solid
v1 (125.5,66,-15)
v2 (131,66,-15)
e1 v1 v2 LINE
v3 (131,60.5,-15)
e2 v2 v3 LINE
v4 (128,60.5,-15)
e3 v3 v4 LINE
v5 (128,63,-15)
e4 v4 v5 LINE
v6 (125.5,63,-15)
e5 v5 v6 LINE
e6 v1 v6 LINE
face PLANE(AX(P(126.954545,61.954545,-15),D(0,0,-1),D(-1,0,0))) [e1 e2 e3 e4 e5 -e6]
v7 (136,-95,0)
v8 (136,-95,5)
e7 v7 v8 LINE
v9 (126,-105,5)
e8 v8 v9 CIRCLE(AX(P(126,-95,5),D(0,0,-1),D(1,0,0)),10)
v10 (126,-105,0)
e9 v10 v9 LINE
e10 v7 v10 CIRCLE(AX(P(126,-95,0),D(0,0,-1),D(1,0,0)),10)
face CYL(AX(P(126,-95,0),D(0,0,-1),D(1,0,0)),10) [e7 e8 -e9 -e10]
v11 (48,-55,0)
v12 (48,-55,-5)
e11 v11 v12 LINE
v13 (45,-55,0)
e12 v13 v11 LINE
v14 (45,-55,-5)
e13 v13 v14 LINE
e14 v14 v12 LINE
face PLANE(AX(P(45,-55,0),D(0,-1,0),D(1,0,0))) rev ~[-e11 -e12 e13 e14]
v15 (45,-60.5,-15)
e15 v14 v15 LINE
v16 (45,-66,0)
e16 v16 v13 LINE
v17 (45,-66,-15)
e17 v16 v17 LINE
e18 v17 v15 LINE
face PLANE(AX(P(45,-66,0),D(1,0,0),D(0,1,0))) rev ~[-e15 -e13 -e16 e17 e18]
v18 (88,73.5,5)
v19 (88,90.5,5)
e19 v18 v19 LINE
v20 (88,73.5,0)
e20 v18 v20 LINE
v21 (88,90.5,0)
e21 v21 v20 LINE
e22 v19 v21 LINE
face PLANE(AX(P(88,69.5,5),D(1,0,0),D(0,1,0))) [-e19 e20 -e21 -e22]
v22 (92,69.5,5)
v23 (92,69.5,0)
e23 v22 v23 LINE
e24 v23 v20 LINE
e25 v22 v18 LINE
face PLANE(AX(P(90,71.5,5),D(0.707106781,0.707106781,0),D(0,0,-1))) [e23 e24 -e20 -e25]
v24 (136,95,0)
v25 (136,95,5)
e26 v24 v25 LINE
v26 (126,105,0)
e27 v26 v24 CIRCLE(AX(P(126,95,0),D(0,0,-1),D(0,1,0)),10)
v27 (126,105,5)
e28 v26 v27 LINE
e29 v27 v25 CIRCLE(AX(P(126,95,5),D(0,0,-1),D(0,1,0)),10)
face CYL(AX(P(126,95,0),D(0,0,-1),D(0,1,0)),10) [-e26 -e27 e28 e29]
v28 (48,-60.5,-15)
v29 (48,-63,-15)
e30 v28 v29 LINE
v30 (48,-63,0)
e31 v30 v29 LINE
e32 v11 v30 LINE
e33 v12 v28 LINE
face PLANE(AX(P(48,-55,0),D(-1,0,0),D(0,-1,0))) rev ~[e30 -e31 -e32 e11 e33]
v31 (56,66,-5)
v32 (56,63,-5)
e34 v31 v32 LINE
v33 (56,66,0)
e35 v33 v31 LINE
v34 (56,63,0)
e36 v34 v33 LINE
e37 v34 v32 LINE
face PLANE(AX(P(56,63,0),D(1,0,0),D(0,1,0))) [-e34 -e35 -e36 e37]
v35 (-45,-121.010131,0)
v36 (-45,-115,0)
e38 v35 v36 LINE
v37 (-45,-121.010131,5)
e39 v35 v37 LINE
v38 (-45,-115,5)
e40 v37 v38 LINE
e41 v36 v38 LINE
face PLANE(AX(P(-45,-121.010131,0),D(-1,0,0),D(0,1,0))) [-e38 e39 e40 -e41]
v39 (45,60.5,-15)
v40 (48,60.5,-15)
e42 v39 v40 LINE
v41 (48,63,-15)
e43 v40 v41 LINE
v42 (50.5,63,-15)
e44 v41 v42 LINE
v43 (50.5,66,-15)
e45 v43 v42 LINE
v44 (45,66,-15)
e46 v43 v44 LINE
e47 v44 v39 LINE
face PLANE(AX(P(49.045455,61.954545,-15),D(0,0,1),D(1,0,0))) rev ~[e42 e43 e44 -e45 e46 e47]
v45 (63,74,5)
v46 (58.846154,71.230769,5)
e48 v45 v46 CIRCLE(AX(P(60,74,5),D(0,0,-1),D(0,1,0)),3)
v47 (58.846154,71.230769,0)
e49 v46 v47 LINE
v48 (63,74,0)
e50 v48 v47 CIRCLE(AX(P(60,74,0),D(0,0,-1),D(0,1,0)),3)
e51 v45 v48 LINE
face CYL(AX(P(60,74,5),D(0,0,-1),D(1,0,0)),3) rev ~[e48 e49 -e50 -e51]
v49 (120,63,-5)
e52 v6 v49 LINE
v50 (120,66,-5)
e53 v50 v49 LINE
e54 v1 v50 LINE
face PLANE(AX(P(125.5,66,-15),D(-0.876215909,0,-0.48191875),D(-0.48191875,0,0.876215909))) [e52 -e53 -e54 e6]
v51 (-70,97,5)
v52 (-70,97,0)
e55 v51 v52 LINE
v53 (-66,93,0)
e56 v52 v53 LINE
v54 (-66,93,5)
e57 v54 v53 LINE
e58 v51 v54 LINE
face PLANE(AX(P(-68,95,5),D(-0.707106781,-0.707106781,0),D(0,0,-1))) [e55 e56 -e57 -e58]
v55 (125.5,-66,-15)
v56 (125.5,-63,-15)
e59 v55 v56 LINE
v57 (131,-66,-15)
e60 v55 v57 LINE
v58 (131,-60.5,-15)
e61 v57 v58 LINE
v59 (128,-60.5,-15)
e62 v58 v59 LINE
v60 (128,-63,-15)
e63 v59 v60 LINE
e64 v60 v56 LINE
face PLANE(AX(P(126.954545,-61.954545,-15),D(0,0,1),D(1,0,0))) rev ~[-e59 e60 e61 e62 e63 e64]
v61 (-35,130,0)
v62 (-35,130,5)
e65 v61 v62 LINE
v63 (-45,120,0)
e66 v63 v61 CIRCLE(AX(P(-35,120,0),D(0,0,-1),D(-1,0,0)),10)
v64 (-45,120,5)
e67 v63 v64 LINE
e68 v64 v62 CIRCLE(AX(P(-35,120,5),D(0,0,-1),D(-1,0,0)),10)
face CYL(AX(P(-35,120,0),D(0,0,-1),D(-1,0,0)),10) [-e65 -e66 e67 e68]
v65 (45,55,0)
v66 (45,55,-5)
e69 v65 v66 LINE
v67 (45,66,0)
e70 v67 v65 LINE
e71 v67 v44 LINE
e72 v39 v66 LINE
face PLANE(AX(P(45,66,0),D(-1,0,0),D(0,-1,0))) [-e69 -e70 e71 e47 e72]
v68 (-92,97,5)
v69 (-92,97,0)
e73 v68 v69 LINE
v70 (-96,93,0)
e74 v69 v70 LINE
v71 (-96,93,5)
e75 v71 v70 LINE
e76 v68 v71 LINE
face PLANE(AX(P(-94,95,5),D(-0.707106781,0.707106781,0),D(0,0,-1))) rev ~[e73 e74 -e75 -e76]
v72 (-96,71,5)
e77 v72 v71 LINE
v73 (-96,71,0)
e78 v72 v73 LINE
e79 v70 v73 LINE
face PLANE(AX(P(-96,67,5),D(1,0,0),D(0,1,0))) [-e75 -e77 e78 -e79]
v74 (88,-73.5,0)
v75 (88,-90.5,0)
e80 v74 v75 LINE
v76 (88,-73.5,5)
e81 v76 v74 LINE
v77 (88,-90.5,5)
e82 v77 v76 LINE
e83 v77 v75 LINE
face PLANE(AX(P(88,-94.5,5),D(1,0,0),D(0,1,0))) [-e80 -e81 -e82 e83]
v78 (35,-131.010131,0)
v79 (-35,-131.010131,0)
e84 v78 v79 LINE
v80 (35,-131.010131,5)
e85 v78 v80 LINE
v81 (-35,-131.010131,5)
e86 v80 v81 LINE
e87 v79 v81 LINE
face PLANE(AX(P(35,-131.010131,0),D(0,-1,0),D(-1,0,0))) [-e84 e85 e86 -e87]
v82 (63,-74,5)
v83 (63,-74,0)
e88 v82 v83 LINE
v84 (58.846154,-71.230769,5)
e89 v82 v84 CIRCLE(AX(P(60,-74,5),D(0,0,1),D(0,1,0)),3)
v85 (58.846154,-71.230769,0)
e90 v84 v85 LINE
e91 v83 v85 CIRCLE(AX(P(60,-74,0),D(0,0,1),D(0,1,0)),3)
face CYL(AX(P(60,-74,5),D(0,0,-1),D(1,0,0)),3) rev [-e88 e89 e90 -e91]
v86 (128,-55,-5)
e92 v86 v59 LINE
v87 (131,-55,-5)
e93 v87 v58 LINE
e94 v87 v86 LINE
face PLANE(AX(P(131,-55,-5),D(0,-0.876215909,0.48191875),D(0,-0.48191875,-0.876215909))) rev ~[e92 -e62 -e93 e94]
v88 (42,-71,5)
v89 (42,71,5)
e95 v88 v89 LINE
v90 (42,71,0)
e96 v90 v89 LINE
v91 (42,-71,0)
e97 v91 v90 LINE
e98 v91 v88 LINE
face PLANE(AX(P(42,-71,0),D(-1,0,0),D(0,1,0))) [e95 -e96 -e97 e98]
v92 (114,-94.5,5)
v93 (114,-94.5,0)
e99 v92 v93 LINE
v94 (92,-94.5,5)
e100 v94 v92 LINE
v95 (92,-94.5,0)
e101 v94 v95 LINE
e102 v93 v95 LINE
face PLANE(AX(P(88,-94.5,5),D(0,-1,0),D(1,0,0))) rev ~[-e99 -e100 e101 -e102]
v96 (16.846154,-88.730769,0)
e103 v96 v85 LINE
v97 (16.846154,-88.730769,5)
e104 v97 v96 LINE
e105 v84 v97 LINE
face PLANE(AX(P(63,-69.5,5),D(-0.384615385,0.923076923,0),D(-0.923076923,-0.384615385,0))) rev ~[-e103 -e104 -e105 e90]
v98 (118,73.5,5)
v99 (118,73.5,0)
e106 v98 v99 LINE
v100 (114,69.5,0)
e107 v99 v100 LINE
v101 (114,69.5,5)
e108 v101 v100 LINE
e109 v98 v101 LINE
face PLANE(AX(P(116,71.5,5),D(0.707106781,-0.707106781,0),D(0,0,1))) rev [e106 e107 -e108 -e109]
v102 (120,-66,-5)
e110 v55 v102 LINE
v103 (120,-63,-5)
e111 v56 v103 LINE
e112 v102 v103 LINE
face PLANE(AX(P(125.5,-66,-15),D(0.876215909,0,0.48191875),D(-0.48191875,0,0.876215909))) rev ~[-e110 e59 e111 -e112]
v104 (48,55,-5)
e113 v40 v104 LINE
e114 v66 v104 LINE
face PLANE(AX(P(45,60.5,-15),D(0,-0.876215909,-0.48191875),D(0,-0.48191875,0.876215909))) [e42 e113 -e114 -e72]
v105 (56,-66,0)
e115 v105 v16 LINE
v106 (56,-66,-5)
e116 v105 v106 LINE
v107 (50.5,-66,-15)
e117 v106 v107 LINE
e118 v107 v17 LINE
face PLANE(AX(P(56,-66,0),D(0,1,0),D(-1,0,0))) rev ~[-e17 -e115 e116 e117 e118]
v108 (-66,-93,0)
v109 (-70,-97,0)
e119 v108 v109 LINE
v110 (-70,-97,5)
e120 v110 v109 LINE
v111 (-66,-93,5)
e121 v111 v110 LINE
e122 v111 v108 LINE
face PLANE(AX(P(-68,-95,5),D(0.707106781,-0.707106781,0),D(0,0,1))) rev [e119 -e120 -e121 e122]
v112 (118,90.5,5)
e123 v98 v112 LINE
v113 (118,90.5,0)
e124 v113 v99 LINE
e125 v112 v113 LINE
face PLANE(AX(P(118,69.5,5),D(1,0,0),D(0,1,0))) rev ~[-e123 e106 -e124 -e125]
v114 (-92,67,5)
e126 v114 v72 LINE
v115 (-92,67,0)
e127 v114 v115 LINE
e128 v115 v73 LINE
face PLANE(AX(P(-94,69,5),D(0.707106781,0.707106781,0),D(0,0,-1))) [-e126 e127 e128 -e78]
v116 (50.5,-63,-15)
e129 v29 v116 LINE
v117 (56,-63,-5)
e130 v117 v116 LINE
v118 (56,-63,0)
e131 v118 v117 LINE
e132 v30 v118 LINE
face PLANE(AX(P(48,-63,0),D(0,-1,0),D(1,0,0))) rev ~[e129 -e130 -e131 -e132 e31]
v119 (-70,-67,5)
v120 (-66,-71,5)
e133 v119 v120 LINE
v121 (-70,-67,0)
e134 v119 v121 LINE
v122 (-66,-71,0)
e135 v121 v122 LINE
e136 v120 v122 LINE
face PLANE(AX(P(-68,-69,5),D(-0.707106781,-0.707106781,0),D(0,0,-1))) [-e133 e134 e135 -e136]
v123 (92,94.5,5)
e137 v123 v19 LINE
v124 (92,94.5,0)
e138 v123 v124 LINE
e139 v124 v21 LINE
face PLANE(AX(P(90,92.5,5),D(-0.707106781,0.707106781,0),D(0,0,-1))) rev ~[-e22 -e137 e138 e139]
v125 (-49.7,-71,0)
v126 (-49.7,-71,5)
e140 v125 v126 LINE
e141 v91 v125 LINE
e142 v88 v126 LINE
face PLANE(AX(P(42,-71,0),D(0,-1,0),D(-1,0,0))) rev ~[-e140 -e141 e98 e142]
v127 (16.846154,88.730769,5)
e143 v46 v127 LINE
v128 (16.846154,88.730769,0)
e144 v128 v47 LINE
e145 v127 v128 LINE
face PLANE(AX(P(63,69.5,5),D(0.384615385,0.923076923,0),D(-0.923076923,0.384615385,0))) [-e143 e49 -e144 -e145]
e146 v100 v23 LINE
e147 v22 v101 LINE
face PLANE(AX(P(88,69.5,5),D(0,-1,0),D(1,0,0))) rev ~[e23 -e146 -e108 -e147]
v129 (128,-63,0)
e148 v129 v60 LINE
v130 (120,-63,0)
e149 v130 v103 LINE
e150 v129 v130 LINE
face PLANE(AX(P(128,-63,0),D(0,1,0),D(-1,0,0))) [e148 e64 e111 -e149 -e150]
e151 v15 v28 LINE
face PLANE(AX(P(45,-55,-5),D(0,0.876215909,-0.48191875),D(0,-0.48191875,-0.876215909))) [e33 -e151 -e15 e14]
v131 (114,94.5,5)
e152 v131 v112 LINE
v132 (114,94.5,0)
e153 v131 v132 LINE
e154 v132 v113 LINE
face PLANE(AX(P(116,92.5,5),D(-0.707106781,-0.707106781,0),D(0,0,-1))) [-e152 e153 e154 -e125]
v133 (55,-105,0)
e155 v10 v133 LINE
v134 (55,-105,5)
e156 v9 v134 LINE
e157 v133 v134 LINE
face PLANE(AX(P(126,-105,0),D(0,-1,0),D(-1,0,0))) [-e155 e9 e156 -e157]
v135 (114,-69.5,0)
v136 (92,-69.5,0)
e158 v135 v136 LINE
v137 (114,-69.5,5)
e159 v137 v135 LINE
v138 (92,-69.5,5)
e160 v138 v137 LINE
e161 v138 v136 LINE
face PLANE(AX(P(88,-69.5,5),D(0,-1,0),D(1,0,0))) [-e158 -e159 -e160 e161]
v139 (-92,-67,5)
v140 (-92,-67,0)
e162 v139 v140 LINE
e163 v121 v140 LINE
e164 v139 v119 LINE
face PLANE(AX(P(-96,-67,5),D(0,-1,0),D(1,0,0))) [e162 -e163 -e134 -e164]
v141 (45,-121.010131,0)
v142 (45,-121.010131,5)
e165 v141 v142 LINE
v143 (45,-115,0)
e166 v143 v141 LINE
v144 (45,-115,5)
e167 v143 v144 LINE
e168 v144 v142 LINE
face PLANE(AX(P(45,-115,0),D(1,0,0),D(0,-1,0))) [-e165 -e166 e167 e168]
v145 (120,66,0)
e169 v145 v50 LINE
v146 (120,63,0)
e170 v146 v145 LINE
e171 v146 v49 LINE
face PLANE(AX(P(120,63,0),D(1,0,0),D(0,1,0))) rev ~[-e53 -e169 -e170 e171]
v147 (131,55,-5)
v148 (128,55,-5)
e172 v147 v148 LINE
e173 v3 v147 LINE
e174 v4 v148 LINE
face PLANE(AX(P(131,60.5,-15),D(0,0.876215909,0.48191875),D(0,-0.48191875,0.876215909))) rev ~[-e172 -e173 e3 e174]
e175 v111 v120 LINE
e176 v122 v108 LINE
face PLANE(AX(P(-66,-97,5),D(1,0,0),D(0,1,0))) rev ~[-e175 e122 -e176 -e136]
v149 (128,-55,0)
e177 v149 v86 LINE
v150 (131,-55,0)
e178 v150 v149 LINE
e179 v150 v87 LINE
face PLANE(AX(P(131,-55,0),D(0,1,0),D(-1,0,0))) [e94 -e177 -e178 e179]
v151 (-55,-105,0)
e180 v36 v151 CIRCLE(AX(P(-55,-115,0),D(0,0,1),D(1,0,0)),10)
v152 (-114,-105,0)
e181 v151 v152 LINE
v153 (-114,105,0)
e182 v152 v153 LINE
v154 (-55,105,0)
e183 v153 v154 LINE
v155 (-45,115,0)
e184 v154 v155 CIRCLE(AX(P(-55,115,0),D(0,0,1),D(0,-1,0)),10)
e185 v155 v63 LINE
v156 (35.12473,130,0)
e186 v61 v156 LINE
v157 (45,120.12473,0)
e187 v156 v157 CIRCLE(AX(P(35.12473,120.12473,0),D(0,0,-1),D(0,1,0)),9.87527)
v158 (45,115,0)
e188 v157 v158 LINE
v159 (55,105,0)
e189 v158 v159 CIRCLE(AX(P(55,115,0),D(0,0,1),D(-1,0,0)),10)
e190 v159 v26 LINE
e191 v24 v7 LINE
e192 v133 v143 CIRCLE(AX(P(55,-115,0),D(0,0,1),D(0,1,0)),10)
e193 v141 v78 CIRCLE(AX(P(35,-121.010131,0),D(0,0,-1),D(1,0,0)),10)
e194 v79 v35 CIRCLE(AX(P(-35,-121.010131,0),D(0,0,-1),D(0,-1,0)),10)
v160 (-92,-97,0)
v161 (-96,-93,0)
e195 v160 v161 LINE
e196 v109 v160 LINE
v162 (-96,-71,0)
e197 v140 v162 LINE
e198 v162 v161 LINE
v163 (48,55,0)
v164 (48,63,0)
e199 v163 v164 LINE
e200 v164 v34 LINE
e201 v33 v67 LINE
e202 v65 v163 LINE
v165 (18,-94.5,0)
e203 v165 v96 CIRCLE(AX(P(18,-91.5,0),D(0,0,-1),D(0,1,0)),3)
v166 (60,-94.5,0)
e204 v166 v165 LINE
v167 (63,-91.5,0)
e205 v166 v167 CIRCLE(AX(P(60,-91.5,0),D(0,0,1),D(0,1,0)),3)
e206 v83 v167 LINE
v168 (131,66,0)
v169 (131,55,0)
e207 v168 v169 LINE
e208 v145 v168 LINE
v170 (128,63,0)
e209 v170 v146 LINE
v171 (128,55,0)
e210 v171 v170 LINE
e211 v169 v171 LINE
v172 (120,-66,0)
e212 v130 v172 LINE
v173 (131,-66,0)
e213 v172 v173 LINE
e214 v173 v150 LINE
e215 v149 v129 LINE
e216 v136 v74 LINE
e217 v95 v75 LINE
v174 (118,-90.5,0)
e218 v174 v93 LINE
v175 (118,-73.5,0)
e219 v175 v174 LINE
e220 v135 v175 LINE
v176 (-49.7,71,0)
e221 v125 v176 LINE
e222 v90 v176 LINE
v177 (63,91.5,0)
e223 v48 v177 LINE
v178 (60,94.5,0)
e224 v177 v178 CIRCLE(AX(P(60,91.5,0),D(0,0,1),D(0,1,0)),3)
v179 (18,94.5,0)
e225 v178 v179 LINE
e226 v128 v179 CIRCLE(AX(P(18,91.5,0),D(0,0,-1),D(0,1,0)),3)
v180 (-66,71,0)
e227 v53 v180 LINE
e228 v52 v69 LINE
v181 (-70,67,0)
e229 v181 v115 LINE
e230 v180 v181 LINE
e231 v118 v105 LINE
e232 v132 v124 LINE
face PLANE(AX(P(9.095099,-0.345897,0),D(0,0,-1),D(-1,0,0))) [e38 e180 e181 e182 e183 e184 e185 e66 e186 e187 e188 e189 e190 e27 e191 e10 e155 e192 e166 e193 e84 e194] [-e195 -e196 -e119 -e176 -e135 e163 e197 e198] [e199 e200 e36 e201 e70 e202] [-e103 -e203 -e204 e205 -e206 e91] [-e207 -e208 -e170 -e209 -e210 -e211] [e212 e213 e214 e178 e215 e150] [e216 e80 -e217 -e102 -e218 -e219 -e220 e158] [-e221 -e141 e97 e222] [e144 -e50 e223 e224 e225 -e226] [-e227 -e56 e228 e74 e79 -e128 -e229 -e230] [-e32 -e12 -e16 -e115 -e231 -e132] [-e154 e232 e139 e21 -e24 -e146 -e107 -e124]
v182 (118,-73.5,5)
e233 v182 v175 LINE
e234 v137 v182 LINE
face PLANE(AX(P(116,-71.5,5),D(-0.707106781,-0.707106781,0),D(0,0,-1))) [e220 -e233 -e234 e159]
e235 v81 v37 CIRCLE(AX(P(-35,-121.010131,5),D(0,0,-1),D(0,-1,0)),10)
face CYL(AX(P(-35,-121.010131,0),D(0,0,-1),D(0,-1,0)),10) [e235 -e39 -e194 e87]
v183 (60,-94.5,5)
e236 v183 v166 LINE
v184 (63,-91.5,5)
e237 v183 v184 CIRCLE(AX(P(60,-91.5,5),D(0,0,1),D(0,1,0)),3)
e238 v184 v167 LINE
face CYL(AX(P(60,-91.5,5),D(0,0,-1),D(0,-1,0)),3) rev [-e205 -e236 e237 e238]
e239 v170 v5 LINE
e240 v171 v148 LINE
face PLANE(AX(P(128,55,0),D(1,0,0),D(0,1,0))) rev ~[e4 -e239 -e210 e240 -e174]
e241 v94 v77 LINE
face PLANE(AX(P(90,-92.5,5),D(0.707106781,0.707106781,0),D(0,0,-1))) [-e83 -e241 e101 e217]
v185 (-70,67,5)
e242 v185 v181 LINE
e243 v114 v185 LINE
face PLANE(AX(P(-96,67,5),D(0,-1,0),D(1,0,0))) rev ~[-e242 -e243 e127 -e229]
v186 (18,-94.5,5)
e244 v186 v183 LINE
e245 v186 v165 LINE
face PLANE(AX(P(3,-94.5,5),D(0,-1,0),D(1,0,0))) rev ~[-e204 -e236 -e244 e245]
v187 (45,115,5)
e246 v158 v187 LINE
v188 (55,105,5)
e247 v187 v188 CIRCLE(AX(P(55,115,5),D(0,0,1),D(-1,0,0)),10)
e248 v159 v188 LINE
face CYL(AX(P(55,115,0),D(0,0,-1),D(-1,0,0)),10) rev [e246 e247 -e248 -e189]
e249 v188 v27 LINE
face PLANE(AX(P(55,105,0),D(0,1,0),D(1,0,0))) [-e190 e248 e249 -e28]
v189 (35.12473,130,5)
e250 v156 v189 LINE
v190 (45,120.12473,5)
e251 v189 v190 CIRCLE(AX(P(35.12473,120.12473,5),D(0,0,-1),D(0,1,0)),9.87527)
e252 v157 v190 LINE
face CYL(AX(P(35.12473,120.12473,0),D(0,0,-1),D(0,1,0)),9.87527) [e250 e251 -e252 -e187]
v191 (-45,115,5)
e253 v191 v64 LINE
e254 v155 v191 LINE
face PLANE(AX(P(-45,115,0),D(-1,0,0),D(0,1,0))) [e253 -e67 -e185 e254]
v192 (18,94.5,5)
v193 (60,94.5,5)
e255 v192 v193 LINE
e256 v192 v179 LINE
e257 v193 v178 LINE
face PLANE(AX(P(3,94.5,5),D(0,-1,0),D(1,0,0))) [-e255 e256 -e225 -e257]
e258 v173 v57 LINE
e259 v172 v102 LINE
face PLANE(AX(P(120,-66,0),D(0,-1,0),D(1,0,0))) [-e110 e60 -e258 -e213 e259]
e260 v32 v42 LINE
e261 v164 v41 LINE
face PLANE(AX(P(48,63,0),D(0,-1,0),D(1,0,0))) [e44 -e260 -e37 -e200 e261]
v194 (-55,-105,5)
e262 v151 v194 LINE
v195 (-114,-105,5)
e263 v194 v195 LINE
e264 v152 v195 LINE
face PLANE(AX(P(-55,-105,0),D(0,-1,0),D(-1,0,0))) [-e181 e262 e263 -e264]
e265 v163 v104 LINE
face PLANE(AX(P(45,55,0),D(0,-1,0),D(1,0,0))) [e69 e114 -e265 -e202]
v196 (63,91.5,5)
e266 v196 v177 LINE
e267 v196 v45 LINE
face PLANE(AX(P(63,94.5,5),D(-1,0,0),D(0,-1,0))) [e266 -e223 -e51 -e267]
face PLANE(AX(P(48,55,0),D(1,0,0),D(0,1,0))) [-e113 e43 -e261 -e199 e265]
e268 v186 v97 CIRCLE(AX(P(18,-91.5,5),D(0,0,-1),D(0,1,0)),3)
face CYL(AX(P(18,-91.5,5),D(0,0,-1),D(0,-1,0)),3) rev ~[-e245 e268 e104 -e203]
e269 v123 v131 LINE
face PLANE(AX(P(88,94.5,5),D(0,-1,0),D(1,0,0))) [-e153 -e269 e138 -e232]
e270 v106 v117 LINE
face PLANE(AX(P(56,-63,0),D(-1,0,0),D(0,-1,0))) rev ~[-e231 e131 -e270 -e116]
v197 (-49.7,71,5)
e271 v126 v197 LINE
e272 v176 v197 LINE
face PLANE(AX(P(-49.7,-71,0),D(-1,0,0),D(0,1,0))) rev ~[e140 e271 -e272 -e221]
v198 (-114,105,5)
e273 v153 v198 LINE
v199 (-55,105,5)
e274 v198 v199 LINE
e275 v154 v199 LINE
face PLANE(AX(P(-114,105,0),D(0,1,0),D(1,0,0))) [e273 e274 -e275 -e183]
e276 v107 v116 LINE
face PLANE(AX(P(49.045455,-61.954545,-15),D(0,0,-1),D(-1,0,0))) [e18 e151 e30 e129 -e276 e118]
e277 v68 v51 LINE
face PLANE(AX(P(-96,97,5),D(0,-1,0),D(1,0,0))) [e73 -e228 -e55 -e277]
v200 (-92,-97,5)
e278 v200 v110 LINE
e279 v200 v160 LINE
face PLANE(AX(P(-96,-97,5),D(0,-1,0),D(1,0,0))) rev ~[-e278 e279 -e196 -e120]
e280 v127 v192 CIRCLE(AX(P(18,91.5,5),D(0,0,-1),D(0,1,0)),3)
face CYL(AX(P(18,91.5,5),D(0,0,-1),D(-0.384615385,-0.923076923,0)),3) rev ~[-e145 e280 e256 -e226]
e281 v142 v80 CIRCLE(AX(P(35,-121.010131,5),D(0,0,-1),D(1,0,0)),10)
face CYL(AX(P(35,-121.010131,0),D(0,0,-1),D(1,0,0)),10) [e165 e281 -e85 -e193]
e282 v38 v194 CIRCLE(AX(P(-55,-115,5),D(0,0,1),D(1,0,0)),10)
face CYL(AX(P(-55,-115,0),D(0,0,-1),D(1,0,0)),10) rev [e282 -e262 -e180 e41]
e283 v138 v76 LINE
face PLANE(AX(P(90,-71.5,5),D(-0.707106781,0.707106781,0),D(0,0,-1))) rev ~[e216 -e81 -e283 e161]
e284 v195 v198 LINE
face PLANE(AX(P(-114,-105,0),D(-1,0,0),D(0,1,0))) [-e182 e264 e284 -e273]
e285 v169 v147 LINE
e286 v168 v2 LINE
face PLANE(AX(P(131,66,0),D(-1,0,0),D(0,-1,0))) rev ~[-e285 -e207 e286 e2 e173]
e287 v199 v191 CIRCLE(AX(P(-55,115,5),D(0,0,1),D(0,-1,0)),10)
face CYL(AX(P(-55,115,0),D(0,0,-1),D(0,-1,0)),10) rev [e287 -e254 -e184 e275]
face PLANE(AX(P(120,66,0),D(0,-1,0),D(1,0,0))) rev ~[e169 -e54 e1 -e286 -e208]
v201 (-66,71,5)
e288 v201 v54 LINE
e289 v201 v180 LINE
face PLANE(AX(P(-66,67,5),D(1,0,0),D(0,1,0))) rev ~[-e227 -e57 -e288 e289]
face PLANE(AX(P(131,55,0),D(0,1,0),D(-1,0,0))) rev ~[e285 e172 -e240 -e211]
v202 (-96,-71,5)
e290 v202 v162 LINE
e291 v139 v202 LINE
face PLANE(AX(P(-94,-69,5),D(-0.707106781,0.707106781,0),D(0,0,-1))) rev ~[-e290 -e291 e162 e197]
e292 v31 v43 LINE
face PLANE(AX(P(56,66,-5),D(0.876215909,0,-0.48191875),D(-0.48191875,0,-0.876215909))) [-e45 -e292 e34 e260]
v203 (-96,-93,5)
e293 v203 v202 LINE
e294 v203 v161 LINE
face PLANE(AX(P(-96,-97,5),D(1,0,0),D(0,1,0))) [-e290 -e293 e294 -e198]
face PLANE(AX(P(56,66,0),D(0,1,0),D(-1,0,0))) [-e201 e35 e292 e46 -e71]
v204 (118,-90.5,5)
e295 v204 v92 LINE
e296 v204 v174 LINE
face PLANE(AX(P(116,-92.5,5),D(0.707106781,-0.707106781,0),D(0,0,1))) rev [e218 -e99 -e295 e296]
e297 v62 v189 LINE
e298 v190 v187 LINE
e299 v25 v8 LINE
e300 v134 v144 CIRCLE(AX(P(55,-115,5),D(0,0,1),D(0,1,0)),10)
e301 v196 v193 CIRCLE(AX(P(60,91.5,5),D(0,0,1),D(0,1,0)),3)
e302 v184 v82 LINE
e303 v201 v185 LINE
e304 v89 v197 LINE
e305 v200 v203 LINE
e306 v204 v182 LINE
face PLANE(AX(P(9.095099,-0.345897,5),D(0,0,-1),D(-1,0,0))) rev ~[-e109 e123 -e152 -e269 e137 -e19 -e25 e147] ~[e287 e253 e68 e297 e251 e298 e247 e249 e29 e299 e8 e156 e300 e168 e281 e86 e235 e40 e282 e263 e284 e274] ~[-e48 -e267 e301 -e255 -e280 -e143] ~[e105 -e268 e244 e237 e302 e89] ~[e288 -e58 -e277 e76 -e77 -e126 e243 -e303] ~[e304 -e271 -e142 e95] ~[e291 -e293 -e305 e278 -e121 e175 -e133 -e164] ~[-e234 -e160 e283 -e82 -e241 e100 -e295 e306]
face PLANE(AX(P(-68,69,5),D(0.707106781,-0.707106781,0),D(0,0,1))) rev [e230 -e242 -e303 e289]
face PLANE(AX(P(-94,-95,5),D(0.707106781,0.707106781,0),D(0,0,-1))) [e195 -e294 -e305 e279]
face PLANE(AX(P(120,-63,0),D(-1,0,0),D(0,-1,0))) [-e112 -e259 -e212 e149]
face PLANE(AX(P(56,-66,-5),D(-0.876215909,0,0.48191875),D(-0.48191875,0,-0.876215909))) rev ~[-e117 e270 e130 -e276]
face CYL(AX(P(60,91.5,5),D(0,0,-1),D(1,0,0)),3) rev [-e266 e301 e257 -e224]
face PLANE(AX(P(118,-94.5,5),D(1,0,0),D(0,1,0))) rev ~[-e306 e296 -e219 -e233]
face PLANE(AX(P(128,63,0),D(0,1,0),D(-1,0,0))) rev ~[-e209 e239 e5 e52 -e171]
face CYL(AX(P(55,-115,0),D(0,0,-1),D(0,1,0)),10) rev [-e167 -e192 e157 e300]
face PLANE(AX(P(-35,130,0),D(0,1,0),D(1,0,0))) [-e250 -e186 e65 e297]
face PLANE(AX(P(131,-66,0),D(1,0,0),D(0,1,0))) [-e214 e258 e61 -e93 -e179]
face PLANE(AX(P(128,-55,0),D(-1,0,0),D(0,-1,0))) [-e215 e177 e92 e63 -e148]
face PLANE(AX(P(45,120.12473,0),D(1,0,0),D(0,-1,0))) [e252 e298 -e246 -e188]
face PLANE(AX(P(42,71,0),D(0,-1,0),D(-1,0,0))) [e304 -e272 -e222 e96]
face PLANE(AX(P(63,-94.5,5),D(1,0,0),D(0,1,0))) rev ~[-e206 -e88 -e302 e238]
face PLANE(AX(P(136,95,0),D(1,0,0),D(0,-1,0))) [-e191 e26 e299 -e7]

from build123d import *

# Parameters (mm, degrees)
EXTRUDE_1_DEPTH     = 5
SKETCH_2_W          = 30
SKETCH_2_H          = 30
SKETCH_2_H_2        = 25
CUT_EXTRUDE_1_DEPTH = 189.903823128
CHAMFER_1_SIZE      = 4
EXTRUDE_2_DEPTH     = 15
CUT_EXTRUDE_2_DEPTH = 3
CUT_EXTRUDE_3_DEPTH = 3
CUT_EXTRUDE_4_DEPTH = 3
CUT_EXTRUDE_5_DEPTH = 3
FILLET_1_R          = 3
SKETCH_8_W          = 91.7
SKETCH_8_H          = 142
CUT_EXTRUDE_6_DEPTH = 5


with BuildPart() as part:
    # 草图1 → 凸台-拉伸1 (new body)
    with BuildSketch(Plane.XY):
        with BuildLine():
            Line((-45, 115), (-45, 120))
            ThreePointArc((-45, 120), (-42.071067812, 127.071067812), (-35, 130))
            Line((-35, 130), (35.124730195, 130))
            ThreePointArc((35.124730195, 130), (42.10760044, 127.10760044), (45, 120.124730195))
            Line((45, 120.124730195), (45, 115))
            ThreePointArc((45, 115), (47.928932188, 107.928932188), (55, 105))
            Line((55, 105), (126, 105))
            ThreePointArc((126, 105), (133.071067812, 102.071067812), (136, 95))
            Line((136, 95), (136, -95))
            ThreePointArc((136, -95), (133.071067812, -102.071067812), (126, -105))
            Line((126, -105), (115, -105))
            Line((115, -105), (55, -105))
            ThreePointArc((55, -105), (47.928932188, -107.928932188), (45, -115))
            Line((45, -115), (45, -121.010130877))
            ThreePointArc((45, -121.010130877), (42.071067812, -128.081198689), (35, -131.010130877))
            Line((35, -131.010130877), (-35, -131.010130877))
            ThreePointArc((-35, -131.010130877), (-42.071067812, -128.081198689), (-45, -121.010130877))
            Line((-45, -121.010130877), (-45, -115))
            ThreePointArc((-45, -115), (-47.928932188, -107.928932188), (-55, -105))
            Line((-55, -105), (-114, -105))
            Line((-114, -105), (-114, -95))
            Line((-114, -95), (-114, 95))
            Line((-114, 95), (-114, 105))
            Line((-114, 105), (-55, 105))
            ThreePointArc((-55, 105), (-47.928932188, 107.928932188), (-45, 115))
        make_face()
    extrude(amount=EXTRUDE_1_DEPTH)

    # 草图2 → 切除-拉伸1 (cut, through all)
    with BuildSketch(Plane.XY.offset(5)):
        with Locations((-81, 82)):
            Rectangle(SKETCH_2_W, SKETCH_2_H)
        with Locations((-81, -82)):
            Rectangle(SKETCH_2_W, SKETCH_2_H)
        with Locations((103, 82)):
            Rectangle(SKETCH_2_W, SKETCH_2_H_2)
        with Locations((103, -82)):
            Rectangle(SKETCH_2_W, SKETCH_2_H_2)
        Polygon((3, 94.5), (63, 94.5), (63, 69.5), align=None)
        Polygon((3, -94.5), (63, -94.5), (63, -69.5), align=None)
    extrude(amount=-CUT_EXTRUDE_1_DEPTH, mode=Mode.SUBTRACT)

    # 倒角1
    chamfer_1_edges = [part.edges().sort_by_distance(p)[0] for p in [
        (118, -69.5, 2.5),
        (118, -94.5, 2.5),
        (88, -94.5, 2.5),
        (88, -69.5, 2.5),
        (118, 94.5, 2.5),
        (118, 69.5, 2.5),
        (88, 69.5, 2.5),
        (88, 94.5, 2.5),
        (-66, -67, 2.5),
        (-66, -97, 2.5),
        (-96, -97, 2.5),
        (-96, -67, 2.5),
        (-66, 97, 2.5),
        (-66, 67, 2.5),
        (-96, 67, 2.5),
        (-96, 97, 2.5),
    ]]
    chamfer(chamfer_1_edges, length=CHAMFER_1_SIZE)

    # 草图3 → 凸台-拉伸2 (add)
    with BuildSketch(Plane(origin=(0, 0, 0), x_dir=(-1, 0, 0), z_dir=(0, 0, -1))):
        Polygon((-131, 66), (-131, 55), (-128, 55), (-128, 63), (-120, 63), (-120, 66), align=None)
        Polygon((-56, 63), (-56, 66), (-45, 66), (-45, 55), (-48, 55), (-48, 63), align=None)
        Polygon((-48, -63), (-56, -63), (-56, -66), (-45, -66), (-45, -55), (-48, -55), align=None)
        Polygon((-120, -63), (-120, -66), (-131, -66), (-131, -55), (-128, -55), (-128, -63), align=None)
    extrude(amount=EXTRUDE_2_DEPTH)

    # 草图4 → 切除-拉伸2 (cut)
    with BuildSketch(Plane(origin=(131, 0, 0), x_dir=(0, 0, -1), z_dir=(1, 0, 0))):
        Polygon((15, 60.5), (5, 55), (15, 55), align=None)
        Polygon((15, -60.5), (15, -55), (5, -55), align=None)
    extrude(amount=-CUT_EXTRUDE_2_DEPTH, mode=Mode.SUBTRACT)

    # 草图5 → 切除-拉伸3 (cut)
    with BuildSketch(Plane(origin=(0, 66, 0), x_dir=(1, 0, 0), z_dir=(0, 1, 0))):
        Polygon((50.5, 15), (56, 15), (56, 5), align=None)
        Polygon((120, 15), (125.5, 15), (120, 5), align=None)
    extrude(amount=-CUT_EXTRUDE_3_DEPTH, mode=Mode.SUBTRACT)

    # 草图6 → 切除-拉伸4 (cut)
    with BuildSketch(Plane.ZY.offset(-45)):
        Polygon((-15, 60.5), (-5, 55), (-15, 55), align=None)
        Polygon((-15, -60.5), (-15, -55), (-5, -55), align=None)
    extrude(amount=-CUT_EXTRUDE_4_DEPTH, mode=Mode.SUBTRACT)

    # 草图7 → 切除-拉伸5 (cut)
    with BuildSketch(Plane.XZ.offset(66)):
        Polygon((50.5, -15), (56, -15), (56, -5), align=None)
        Polygon((120, -15), (125.5, -15), (120, -5), align=None)
    extrude(amount=-CUT_EXTRUDE_5_DEPTH, mode=Mode.SUBTRACT)

    # 圆角1
    fillet_1_edges = [part.edges().sort_by_distance(p)[0] for p in [
        (63, -69.5, 2.5),
        (63, -94.5, 2.5),
        (3, -94.5, 2.5),
        (63, 69.5, 2.5),
        (3, 94.5, 2.5),
        (63, 94.5, 2.5),
    ]]
    fillet(fillet_1_edges, radius=FILLET_1_R)

    # 草图8 → 切除-拉伸6 (cut)
    with BuildSketch(Plane(origin=(0, 0, 0), x_dir=(-1, 0, 0), z_dir=(0, 0, -1))):
        with Locations((3.85, 0)):
            Rectangle(SKETCH_8_W, SKETCH_8_H)
    extrude(amount=-CUT_EXTRUDE_6_DEPTH, mode=Mode.SUBTRACT)


solid = part.part
